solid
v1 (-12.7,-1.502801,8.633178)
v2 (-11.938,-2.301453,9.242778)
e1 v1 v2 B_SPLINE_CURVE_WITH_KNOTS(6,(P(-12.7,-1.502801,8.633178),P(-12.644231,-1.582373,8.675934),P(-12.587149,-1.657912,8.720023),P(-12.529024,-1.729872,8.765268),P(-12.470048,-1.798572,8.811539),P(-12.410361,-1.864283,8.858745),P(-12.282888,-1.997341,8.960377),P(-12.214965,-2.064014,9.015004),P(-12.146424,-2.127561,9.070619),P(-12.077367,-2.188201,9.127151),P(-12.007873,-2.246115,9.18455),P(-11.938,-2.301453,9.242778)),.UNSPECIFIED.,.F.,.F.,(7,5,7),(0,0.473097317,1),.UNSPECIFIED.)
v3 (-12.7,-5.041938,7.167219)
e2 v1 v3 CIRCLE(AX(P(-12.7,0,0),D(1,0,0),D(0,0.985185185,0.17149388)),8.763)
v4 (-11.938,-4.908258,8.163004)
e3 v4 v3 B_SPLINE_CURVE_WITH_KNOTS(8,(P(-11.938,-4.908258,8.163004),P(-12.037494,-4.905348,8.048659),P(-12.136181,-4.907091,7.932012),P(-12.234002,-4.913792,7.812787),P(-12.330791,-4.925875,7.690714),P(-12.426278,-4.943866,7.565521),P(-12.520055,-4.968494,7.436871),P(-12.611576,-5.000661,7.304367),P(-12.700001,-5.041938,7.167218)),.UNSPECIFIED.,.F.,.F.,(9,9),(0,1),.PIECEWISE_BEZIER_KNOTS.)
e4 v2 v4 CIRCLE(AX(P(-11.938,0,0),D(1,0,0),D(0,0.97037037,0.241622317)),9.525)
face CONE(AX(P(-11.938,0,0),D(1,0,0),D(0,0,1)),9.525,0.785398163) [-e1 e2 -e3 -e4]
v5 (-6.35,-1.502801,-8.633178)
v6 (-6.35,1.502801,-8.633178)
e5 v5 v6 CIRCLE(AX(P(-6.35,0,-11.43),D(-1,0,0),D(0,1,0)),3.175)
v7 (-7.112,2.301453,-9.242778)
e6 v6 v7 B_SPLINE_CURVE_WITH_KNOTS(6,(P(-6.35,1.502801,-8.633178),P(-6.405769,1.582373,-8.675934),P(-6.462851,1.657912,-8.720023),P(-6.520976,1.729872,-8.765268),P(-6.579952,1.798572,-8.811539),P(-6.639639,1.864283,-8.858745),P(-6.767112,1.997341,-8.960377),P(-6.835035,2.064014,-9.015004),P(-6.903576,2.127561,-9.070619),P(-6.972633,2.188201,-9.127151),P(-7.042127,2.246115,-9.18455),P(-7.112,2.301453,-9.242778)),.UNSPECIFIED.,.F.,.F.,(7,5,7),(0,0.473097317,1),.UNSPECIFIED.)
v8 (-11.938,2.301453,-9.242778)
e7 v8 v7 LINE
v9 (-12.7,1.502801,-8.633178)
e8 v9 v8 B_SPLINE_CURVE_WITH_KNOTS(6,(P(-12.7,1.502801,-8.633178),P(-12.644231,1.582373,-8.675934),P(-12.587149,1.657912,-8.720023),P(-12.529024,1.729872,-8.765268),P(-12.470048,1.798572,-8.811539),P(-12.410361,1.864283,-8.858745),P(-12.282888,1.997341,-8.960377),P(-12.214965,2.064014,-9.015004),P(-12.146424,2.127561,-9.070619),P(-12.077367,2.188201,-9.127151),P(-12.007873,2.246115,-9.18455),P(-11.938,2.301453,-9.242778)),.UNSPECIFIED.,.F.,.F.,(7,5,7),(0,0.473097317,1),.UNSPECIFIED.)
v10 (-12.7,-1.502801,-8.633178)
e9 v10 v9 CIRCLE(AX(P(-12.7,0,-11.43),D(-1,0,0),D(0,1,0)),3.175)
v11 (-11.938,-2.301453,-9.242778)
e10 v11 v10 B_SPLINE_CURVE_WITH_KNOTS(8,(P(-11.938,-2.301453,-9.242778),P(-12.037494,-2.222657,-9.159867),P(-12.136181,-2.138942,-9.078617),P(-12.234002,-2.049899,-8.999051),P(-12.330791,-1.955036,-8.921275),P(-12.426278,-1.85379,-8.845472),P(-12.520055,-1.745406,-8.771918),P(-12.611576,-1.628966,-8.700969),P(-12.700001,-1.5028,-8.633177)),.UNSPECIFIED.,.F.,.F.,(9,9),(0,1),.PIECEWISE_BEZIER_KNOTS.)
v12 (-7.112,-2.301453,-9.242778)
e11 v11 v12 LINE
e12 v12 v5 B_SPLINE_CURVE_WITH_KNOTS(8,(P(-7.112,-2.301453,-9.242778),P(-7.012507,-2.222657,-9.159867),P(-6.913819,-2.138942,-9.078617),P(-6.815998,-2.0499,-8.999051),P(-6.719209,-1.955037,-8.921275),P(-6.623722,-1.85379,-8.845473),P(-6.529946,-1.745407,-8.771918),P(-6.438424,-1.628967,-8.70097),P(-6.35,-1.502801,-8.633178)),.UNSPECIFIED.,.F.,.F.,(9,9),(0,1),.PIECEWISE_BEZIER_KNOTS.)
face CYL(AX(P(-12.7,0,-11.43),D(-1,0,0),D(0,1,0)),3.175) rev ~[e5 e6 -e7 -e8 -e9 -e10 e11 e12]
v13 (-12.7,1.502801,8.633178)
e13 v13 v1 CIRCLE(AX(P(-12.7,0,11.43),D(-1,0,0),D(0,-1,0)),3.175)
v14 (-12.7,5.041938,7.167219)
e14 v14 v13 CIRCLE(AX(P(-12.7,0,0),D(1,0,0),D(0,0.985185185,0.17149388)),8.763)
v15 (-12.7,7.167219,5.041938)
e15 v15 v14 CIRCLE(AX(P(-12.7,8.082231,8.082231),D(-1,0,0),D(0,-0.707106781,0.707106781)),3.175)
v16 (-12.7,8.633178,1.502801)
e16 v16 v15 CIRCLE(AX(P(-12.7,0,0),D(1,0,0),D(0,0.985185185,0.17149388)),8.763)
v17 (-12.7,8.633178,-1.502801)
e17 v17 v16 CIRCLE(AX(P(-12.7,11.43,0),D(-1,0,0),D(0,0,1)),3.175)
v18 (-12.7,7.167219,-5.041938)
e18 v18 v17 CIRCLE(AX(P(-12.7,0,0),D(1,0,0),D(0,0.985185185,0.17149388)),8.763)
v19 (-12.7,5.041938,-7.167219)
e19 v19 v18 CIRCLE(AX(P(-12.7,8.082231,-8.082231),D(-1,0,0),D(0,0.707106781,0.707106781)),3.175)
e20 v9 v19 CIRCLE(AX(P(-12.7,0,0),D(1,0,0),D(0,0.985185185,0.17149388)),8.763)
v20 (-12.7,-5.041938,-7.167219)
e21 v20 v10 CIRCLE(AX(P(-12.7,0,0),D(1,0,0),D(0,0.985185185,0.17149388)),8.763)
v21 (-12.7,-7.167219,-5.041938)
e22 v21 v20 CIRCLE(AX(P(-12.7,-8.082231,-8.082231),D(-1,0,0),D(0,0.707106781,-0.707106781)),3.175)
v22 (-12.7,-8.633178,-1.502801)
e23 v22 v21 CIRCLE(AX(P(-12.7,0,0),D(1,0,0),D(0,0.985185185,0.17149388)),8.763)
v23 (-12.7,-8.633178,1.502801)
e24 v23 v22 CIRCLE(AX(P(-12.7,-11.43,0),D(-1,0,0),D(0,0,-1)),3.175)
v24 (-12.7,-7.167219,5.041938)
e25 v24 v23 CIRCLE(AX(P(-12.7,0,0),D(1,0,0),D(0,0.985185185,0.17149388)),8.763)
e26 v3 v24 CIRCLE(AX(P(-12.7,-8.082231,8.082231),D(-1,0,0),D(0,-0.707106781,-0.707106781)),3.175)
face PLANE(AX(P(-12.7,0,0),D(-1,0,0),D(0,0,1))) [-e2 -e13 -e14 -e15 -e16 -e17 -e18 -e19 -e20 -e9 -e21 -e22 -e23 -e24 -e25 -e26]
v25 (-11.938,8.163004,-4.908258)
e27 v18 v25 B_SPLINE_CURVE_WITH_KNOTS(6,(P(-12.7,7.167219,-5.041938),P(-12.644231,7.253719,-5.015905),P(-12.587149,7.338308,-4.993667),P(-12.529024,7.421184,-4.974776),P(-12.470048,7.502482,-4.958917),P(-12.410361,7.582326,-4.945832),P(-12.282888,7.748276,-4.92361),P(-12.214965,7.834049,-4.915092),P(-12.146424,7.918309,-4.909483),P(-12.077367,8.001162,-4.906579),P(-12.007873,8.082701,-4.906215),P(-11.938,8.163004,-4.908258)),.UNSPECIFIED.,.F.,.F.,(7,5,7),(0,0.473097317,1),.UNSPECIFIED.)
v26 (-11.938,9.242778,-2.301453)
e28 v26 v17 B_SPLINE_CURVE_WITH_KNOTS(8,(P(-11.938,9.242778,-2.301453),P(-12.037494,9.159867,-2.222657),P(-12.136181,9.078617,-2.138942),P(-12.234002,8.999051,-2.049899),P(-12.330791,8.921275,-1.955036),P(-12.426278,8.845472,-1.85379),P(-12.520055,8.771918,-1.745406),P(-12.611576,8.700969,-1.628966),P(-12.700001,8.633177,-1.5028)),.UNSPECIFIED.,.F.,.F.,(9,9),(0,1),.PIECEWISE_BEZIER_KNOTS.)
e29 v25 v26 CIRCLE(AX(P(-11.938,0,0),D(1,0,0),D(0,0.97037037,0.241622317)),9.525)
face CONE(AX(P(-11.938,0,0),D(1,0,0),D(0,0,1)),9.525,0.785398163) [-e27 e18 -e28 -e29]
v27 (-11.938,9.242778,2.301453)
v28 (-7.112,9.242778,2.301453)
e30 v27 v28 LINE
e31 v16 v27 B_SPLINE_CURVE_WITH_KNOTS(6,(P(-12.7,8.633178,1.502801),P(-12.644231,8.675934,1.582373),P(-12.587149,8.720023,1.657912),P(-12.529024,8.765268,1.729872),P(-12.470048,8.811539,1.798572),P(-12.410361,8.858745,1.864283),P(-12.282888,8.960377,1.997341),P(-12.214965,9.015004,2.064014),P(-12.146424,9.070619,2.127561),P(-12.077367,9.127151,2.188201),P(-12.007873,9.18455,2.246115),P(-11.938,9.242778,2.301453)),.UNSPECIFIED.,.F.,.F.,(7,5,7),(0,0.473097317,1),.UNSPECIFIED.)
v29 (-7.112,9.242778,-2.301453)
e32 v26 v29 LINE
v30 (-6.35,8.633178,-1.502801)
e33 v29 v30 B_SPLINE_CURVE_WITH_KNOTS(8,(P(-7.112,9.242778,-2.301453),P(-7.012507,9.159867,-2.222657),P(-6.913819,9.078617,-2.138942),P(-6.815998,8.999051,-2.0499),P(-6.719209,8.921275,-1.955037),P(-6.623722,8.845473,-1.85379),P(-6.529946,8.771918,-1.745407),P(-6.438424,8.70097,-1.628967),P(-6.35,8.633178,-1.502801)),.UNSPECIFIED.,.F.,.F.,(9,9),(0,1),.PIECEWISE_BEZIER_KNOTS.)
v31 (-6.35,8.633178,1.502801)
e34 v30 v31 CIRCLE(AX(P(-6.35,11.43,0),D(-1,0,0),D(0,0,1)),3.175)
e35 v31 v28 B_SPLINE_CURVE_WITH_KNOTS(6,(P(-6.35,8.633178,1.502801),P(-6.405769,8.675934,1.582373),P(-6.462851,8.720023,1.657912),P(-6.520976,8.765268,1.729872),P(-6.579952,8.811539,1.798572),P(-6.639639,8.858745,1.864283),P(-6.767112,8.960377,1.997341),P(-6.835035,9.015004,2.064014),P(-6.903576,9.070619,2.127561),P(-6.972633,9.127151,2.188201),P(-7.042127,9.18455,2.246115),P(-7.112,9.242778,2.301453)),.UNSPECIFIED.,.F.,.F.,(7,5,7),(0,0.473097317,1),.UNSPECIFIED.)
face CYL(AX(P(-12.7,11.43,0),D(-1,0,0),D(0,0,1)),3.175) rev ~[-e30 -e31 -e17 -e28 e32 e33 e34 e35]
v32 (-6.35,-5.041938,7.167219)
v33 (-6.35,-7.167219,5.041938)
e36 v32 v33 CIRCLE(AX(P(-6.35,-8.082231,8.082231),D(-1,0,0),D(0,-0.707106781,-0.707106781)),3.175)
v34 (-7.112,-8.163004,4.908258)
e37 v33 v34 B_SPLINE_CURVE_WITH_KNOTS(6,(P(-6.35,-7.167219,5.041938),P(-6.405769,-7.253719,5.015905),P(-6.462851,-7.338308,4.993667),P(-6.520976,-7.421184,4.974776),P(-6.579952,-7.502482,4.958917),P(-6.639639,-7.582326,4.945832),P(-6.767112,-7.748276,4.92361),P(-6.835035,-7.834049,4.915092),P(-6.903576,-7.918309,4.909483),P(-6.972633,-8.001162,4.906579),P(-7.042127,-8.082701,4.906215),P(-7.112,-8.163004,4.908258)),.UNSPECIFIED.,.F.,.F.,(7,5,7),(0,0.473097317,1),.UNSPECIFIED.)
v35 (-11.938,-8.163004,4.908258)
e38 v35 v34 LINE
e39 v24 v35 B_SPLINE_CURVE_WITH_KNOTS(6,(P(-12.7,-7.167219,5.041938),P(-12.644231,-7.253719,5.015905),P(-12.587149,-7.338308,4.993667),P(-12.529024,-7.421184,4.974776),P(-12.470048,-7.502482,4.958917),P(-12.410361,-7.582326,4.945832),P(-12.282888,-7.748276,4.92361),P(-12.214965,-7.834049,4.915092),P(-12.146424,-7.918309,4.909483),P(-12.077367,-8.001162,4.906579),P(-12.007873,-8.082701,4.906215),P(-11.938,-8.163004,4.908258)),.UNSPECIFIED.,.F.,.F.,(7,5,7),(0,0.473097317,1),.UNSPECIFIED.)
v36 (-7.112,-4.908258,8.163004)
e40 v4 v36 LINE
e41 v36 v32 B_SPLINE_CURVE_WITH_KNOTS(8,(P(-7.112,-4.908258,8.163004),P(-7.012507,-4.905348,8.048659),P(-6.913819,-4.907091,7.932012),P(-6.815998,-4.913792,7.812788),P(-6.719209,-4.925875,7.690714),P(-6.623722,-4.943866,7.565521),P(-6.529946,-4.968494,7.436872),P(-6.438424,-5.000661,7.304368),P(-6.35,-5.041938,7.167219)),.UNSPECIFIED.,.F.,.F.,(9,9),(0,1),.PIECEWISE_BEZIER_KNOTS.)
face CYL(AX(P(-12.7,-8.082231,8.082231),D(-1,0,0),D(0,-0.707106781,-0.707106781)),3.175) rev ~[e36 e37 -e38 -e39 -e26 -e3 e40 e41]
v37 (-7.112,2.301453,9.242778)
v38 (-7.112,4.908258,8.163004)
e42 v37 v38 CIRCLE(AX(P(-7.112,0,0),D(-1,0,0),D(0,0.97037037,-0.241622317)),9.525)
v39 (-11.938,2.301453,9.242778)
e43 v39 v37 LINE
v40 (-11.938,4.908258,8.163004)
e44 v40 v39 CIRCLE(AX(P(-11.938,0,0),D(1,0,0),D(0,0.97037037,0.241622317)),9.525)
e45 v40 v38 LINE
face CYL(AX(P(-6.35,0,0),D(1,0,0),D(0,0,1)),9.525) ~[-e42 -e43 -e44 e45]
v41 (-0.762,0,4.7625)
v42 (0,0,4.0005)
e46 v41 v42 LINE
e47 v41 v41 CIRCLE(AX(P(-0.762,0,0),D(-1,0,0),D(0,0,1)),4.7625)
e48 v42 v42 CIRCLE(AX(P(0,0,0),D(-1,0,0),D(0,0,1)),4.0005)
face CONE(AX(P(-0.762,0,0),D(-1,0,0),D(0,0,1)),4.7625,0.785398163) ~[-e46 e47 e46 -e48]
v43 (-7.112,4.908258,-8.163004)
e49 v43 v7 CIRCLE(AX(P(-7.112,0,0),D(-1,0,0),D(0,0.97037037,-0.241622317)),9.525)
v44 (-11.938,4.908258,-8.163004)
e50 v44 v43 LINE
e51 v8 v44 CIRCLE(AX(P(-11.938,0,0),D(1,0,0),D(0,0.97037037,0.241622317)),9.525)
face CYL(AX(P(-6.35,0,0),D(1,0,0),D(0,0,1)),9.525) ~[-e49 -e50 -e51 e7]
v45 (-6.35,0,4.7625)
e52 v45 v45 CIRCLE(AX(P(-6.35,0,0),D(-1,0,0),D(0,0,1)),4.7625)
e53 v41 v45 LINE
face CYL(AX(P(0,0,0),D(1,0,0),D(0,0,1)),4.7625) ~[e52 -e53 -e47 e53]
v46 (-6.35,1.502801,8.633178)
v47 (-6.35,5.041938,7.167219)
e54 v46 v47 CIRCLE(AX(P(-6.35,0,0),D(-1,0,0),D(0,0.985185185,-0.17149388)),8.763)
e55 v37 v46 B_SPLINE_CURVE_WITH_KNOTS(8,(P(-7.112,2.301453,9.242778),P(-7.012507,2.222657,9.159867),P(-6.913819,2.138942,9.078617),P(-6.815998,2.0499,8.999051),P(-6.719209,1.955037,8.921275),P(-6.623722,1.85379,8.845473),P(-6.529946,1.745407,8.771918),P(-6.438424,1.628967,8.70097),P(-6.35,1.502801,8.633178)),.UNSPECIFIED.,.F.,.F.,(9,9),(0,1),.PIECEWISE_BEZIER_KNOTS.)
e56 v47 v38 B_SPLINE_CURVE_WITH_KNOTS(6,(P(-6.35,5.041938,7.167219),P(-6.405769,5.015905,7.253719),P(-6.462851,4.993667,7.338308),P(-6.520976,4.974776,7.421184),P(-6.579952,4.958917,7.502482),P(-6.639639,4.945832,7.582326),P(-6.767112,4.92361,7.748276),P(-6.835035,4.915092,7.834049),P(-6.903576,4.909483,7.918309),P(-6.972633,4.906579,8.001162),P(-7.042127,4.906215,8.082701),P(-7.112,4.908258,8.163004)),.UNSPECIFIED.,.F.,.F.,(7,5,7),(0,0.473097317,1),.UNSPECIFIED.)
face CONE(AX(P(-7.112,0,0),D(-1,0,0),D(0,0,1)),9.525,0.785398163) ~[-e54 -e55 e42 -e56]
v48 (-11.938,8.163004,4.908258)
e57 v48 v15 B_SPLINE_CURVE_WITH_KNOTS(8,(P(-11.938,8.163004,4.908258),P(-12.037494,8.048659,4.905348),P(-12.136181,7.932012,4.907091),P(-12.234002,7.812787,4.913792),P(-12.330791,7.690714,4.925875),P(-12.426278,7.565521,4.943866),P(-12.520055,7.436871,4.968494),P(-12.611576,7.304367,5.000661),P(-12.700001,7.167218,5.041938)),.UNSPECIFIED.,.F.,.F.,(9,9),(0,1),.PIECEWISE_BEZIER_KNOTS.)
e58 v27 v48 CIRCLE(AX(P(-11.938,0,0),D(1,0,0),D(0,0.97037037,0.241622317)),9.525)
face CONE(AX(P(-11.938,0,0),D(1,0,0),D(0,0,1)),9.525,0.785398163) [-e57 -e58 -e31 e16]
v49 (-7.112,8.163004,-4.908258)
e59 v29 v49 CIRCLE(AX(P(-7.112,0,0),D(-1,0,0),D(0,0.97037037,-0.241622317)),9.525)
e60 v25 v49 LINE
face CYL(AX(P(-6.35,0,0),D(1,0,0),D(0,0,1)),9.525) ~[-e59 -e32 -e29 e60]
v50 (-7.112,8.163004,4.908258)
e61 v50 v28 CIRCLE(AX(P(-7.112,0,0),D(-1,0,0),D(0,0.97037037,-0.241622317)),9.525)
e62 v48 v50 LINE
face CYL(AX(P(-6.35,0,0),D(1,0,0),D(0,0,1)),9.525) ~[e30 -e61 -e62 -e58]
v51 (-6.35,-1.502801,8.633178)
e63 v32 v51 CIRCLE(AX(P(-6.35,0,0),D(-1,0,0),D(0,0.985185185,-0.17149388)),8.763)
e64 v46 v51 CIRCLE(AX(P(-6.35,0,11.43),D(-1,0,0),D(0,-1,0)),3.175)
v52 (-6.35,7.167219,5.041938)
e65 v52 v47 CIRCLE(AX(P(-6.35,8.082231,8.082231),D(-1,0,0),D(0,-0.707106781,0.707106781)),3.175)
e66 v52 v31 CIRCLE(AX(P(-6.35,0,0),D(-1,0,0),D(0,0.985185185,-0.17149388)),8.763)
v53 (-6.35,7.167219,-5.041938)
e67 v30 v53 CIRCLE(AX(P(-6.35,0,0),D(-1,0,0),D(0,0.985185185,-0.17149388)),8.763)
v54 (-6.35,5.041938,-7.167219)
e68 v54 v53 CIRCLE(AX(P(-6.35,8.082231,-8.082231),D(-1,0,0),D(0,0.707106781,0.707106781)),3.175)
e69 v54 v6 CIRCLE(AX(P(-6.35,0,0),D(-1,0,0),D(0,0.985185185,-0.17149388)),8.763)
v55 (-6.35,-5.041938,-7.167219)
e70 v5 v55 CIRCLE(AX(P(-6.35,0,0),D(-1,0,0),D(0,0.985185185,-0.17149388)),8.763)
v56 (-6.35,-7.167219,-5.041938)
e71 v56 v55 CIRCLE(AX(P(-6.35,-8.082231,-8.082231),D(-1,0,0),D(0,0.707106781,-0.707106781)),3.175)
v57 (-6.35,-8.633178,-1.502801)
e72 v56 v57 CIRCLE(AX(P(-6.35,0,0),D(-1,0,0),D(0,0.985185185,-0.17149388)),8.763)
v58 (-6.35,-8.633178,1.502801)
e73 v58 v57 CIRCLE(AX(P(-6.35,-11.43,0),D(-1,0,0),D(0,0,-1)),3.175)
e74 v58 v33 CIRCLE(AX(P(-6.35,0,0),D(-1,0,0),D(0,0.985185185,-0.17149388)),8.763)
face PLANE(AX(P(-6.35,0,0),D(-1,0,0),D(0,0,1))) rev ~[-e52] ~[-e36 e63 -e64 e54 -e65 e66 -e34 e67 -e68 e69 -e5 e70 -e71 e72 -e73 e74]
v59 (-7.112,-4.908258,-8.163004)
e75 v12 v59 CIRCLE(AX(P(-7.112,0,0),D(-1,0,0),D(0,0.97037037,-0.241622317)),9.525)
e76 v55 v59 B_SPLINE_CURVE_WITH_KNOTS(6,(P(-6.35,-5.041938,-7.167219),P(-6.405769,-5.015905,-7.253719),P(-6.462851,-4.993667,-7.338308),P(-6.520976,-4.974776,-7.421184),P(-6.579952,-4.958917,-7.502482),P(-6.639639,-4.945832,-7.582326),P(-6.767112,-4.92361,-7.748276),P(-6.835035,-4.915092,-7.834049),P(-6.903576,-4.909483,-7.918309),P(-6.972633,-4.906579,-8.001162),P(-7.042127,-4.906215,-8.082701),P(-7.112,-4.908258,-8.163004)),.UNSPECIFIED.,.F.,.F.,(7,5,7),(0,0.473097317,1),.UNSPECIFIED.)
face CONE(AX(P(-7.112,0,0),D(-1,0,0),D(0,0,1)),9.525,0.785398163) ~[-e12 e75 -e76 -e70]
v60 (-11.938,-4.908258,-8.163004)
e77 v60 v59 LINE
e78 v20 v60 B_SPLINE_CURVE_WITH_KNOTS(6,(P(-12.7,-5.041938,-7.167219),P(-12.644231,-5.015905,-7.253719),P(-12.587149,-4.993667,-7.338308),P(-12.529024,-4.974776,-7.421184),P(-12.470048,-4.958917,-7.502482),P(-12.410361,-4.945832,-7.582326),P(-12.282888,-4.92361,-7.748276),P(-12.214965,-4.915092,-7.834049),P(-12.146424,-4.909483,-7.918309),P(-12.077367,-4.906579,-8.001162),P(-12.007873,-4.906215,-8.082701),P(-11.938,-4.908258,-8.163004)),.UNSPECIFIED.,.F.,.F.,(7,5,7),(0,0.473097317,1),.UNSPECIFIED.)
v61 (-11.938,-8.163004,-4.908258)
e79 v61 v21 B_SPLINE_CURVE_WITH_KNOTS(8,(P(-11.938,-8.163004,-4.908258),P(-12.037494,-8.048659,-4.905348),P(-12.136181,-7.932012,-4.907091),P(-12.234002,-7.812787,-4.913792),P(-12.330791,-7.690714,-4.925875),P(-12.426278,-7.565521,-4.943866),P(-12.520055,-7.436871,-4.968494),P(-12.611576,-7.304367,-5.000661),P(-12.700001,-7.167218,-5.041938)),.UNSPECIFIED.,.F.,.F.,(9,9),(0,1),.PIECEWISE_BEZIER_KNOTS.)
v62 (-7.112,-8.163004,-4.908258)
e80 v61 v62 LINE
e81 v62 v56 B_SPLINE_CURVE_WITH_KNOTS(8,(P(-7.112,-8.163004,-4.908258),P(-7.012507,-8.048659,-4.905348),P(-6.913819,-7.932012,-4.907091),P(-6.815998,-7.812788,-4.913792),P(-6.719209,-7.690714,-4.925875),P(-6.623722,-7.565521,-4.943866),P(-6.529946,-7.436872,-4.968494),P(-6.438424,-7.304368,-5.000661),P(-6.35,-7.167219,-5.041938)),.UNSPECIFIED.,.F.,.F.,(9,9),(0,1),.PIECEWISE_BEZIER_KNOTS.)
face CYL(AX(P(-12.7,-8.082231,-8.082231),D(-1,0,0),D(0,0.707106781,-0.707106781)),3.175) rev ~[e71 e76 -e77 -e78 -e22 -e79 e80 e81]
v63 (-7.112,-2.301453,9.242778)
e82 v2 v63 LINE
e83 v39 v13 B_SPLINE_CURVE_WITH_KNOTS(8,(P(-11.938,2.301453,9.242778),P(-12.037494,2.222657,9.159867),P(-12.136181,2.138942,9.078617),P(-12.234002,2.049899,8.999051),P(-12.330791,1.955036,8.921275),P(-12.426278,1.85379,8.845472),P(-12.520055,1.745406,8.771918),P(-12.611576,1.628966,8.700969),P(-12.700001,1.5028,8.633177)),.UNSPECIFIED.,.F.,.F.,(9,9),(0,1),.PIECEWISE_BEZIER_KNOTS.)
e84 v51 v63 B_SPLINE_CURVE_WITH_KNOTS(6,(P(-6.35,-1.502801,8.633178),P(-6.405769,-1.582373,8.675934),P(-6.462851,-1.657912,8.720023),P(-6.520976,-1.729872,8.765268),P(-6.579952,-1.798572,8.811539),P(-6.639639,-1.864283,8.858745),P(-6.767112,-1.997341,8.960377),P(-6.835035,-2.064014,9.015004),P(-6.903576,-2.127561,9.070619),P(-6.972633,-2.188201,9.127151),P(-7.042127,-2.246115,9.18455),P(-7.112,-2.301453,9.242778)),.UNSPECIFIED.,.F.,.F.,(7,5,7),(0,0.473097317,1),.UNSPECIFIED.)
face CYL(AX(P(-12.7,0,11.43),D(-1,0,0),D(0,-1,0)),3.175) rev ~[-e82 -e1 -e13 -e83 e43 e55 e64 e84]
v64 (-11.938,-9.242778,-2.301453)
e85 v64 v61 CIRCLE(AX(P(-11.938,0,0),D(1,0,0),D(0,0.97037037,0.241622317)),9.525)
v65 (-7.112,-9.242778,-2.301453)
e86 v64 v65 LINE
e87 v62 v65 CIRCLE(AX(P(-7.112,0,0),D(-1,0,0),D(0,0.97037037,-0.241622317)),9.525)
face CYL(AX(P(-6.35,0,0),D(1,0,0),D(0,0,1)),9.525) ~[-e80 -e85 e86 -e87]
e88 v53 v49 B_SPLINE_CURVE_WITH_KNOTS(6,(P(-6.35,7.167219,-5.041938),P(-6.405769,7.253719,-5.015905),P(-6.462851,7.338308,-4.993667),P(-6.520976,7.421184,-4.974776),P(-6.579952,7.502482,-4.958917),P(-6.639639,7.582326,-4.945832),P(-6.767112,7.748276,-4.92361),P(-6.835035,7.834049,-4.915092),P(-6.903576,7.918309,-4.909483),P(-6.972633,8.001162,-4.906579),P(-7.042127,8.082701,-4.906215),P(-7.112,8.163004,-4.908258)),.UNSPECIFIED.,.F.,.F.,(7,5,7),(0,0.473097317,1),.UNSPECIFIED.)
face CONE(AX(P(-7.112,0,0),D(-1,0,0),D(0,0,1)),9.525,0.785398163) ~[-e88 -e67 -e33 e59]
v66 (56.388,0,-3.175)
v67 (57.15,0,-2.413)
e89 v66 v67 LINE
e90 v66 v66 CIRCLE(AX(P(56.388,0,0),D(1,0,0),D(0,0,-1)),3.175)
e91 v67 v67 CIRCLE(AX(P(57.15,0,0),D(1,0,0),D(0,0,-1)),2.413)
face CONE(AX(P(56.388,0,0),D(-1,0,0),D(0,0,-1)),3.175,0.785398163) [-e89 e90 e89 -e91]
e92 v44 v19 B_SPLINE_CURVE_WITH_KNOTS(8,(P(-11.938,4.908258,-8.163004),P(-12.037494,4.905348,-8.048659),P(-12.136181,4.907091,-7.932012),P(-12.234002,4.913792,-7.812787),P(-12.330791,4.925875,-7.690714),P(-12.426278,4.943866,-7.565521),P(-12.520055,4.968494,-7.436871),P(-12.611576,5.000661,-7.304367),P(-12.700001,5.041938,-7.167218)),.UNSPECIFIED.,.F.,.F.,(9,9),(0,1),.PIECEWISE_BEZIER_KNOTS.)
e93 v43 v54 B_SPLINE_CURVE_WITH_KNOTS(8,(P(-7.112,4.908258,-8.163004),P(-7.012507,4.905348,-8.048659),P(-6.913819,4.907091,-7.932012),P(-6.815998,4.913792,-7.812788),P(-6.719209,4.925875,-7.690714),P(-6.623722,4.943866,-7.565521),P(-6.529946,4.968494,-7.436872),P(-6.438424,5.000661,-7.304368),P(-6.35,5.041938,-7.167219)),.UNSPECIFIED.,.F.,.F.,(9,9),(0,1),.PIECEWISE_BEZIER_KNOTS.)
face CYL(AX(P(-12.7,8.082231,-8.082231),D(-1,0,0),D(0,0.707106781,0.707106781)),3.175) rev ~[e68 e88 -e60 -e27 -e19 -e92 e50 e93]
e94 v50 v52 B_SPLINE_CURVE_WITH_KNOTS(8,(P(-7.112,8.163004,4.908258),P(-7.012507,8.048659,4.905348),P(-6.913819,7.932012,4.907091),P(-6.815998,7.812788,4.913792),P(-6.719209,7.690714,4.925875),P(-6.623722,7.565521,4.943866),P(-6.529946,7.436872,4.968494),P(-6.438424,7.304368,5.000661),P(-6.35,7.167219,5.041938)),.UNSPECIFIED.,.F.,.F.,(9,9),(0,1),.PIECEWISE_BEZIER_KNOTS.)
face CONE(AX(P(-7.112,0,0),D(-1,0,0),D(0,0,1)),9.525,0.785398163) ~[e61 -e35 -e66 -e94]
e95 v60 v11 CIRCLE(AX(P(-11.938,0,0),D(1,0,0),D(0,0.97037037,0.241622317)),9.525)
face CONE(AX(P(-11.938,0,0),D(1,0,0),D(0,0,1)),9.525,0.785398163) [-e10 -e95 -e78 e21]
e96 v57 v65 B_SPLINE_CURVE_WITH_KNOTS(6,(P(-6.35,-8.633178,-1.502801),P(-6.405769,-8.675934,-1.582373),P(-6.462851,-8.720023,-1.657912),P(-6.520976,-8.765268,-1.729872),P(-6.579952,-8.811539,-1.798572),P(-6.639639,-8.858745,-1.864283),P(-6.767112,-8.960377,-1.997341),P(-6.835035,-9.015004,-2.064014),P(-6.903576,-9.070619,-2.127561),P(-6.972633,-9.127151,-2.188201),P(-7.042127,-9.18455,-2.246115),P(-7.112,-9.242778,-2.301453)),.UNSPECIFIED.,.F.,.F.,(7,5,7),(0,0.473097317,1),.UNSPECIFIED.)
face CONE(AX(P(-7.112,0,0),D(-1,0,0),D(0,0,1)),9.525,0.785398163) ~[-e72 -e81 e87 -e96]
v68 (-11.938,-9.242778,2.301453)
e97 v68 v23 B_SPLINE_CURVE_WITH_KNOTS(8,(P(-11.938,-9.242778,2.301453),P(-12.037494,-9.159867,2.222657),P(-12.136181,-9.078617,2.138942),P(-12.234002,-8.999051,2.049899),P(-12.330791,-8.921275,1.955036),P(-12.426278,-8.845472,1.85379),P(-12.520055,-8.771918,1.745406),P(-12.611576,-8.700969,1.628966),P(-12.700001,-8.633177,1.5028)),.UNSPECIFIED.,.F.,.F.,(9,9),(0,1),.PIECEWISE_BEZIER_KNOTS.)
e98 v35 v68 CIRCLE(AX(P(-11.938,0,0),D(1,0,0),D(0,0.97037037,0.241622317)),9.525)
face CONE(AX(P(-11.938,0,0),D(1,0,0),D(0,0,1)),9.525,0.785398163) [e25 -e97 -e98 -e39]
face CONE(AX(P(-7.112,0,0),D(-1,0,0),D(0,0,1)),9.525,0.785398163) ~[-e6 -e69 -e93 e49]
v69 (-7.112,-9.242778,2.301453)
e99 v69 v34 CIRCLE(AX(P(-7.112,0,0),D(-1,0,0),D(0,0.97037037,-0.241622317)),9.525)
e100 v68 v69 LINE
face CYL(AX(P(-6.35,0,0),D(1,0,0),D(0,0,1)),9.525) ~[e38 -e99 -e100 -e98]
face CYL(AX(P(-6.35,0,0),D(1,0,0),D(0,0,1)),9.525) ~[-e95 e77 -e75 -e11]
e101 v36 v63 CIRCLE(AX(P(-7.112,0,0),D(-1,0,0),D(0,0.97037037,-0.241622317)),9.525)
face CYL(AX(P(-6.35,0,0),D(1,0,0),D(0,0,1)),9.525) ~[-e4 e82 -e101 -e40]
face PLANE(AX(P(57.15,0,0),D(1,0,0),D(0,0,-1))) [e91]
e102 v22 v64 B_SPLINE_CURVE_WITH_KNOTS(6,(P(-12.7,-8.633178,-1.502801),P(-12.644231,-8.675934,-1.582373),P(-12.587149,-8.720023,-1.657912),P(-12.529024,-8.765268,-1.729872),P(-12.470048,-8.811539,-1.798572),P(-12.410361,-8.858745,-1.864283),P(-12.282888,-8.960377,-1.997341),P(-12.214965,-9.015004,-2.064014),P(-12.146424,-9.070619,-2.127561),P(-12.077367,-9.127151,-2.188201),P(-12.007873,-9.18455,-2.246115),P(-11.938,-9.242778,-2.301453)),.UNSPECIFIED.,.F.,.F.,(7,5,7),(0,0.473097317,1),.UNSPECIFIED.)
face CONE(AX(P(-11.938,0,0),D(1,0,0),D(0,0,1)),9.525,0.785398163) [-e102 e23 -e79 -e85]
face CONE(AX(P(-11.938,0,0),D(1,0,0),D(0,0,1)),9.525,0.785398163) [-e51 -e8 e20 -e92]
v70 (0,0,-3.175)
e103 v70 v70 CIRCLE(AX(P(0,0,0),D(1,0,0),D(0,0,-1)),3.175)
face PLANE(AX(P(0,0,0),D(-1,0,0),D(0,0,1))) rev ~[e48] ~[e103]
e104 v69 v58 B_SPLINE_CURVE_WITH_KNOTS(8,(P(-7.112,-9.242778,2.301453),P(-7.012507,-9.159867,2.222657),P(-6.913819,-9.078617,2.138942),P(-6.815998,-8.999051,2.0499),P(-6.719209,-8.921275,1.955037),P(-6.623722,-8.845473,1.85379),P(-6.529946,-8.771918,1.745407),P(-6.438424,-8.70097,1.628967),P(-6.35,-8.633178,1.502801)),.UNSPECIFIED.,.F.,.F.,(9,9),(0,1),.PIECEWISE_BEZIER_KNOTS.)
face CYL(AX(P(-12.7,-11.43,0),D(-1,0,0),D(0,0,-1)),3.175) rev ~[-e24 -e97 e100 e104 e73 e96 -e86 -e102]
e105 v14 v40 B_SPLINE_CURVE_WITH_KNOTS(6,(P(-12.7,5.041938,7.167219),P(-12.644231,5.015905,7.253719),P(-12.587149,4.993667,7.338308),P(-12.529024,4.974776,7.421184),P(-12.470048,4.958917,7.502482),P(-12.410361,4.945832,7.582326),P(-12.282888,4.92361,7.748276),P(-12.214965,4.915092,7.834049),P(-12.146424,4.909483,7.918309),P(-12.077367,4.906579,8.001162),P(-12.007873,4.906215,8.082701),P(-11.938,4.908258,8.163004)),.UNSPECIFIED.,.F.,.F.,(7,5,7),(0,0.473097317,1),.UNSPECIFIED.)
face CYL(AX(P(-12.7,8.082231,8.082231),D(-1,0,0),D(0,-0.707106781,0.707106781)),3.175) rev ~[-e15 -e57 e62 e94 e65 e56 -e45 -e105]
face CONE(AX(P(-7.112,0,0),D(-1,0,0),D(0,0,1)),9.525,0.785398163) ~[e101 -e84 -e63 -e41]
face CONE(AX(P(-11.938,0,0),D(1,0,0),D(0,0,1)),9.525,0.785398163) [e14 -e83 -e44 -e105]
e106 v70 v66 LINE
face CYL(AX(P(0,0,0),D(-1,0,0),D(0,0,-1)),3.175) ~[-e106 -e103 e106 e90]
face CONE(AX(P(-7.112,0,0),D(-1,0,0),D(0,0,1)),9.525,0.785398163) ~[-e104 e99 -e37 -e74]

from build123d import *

# Parameters (mm, degrees)
SKETCH1_R           = 3.175
BOSS_EXTRUDE1_DEPTH = 57.15
CHAMFER1_SIZE       = 0.762
SKETCH6_R           = 4.7625
BOSS_EXTRUDE2_DEPTH = 6.35
SKETCH7_R           = 9.525
BOSS_EXTRUDE3_DEPTH = 6.35
CHAMFER2_SIZE       = 0.762
SKETCH8_R           = 3.175
CUT_EXTRUDE1_DEPTH  = 72.137006895
CIRPATTERN1_COUNT   = 8


with BuildPart() as part:
    # Sketch1 → Boss-Extrude1 (new body)
    with BuildSketch(Plane(origin=(0, 0, 0), x_dir=(0, 0, -1), z_dir=(1, 0, 0))):
        Circle(SKETCH1_R)
    extrude(amount=BOSS_EXTRUDE1_DEPTH)

    # Chamfer1
    chamfer1_edges = [part.edges().sort_by_distance(p)[0] for p in [
        (57.15, 0, 3.175),
    ]]
    chamfer(chamfer1_edges, length=CHAMFER1_SIZE)

    # Sketch6 → Boss-Extrude2 (add)
    with BuildSketch(Plane.ZY):
        Circle(SKETCH6_R)
    extrude(amount=BOSS_EXTRUDE2_DEPTH)

    # Sketch7 → Boss-Extrude3 (add)
    with BuildSketch(Plane.ZY.offset(6.35)):
        Circle(SKETCH7_R)
    extrude(amount=BOSS_EXTRUDE3_DEPTH)

    # Chamfer2
    chamfer2_edges = [part.edges().sort_by_distance(p)[0] for p in [
        (-6.35, 0, -9.525),
        (-12.7, 0, -9.525),
        (0, 0, -4.7625),
    ]]
    chamfer(chamfer2_edges, length=CHAMFER2_SIZE)

    # Sketch8 → Cut-Extrude1 (cut, through all)
    with BuildSketch(Plane.ZY.offset(12.7)):
        with Locations((0, 11.43)):
            Circle(SKETCH8_R)
    cut_extrude1 = extrude(amount=-CUT_EXTRUDE1_DEPTH, mode=Mode.SUBTRACT)

    # CirPattern1: Cut-Extrude1 ×8 about axis
    cirpattern1_axis = Axis((0, 0, 0), (1, 0, 0))
    for i in range(1, CIRPATTERN1_COUNT):
        add(cut_extrude1.rotate(cirpattern1_axis, i * 360 / CIRPATTERN1_COUNT), mode=Mode.SUBTRACT)


solid = part.part
